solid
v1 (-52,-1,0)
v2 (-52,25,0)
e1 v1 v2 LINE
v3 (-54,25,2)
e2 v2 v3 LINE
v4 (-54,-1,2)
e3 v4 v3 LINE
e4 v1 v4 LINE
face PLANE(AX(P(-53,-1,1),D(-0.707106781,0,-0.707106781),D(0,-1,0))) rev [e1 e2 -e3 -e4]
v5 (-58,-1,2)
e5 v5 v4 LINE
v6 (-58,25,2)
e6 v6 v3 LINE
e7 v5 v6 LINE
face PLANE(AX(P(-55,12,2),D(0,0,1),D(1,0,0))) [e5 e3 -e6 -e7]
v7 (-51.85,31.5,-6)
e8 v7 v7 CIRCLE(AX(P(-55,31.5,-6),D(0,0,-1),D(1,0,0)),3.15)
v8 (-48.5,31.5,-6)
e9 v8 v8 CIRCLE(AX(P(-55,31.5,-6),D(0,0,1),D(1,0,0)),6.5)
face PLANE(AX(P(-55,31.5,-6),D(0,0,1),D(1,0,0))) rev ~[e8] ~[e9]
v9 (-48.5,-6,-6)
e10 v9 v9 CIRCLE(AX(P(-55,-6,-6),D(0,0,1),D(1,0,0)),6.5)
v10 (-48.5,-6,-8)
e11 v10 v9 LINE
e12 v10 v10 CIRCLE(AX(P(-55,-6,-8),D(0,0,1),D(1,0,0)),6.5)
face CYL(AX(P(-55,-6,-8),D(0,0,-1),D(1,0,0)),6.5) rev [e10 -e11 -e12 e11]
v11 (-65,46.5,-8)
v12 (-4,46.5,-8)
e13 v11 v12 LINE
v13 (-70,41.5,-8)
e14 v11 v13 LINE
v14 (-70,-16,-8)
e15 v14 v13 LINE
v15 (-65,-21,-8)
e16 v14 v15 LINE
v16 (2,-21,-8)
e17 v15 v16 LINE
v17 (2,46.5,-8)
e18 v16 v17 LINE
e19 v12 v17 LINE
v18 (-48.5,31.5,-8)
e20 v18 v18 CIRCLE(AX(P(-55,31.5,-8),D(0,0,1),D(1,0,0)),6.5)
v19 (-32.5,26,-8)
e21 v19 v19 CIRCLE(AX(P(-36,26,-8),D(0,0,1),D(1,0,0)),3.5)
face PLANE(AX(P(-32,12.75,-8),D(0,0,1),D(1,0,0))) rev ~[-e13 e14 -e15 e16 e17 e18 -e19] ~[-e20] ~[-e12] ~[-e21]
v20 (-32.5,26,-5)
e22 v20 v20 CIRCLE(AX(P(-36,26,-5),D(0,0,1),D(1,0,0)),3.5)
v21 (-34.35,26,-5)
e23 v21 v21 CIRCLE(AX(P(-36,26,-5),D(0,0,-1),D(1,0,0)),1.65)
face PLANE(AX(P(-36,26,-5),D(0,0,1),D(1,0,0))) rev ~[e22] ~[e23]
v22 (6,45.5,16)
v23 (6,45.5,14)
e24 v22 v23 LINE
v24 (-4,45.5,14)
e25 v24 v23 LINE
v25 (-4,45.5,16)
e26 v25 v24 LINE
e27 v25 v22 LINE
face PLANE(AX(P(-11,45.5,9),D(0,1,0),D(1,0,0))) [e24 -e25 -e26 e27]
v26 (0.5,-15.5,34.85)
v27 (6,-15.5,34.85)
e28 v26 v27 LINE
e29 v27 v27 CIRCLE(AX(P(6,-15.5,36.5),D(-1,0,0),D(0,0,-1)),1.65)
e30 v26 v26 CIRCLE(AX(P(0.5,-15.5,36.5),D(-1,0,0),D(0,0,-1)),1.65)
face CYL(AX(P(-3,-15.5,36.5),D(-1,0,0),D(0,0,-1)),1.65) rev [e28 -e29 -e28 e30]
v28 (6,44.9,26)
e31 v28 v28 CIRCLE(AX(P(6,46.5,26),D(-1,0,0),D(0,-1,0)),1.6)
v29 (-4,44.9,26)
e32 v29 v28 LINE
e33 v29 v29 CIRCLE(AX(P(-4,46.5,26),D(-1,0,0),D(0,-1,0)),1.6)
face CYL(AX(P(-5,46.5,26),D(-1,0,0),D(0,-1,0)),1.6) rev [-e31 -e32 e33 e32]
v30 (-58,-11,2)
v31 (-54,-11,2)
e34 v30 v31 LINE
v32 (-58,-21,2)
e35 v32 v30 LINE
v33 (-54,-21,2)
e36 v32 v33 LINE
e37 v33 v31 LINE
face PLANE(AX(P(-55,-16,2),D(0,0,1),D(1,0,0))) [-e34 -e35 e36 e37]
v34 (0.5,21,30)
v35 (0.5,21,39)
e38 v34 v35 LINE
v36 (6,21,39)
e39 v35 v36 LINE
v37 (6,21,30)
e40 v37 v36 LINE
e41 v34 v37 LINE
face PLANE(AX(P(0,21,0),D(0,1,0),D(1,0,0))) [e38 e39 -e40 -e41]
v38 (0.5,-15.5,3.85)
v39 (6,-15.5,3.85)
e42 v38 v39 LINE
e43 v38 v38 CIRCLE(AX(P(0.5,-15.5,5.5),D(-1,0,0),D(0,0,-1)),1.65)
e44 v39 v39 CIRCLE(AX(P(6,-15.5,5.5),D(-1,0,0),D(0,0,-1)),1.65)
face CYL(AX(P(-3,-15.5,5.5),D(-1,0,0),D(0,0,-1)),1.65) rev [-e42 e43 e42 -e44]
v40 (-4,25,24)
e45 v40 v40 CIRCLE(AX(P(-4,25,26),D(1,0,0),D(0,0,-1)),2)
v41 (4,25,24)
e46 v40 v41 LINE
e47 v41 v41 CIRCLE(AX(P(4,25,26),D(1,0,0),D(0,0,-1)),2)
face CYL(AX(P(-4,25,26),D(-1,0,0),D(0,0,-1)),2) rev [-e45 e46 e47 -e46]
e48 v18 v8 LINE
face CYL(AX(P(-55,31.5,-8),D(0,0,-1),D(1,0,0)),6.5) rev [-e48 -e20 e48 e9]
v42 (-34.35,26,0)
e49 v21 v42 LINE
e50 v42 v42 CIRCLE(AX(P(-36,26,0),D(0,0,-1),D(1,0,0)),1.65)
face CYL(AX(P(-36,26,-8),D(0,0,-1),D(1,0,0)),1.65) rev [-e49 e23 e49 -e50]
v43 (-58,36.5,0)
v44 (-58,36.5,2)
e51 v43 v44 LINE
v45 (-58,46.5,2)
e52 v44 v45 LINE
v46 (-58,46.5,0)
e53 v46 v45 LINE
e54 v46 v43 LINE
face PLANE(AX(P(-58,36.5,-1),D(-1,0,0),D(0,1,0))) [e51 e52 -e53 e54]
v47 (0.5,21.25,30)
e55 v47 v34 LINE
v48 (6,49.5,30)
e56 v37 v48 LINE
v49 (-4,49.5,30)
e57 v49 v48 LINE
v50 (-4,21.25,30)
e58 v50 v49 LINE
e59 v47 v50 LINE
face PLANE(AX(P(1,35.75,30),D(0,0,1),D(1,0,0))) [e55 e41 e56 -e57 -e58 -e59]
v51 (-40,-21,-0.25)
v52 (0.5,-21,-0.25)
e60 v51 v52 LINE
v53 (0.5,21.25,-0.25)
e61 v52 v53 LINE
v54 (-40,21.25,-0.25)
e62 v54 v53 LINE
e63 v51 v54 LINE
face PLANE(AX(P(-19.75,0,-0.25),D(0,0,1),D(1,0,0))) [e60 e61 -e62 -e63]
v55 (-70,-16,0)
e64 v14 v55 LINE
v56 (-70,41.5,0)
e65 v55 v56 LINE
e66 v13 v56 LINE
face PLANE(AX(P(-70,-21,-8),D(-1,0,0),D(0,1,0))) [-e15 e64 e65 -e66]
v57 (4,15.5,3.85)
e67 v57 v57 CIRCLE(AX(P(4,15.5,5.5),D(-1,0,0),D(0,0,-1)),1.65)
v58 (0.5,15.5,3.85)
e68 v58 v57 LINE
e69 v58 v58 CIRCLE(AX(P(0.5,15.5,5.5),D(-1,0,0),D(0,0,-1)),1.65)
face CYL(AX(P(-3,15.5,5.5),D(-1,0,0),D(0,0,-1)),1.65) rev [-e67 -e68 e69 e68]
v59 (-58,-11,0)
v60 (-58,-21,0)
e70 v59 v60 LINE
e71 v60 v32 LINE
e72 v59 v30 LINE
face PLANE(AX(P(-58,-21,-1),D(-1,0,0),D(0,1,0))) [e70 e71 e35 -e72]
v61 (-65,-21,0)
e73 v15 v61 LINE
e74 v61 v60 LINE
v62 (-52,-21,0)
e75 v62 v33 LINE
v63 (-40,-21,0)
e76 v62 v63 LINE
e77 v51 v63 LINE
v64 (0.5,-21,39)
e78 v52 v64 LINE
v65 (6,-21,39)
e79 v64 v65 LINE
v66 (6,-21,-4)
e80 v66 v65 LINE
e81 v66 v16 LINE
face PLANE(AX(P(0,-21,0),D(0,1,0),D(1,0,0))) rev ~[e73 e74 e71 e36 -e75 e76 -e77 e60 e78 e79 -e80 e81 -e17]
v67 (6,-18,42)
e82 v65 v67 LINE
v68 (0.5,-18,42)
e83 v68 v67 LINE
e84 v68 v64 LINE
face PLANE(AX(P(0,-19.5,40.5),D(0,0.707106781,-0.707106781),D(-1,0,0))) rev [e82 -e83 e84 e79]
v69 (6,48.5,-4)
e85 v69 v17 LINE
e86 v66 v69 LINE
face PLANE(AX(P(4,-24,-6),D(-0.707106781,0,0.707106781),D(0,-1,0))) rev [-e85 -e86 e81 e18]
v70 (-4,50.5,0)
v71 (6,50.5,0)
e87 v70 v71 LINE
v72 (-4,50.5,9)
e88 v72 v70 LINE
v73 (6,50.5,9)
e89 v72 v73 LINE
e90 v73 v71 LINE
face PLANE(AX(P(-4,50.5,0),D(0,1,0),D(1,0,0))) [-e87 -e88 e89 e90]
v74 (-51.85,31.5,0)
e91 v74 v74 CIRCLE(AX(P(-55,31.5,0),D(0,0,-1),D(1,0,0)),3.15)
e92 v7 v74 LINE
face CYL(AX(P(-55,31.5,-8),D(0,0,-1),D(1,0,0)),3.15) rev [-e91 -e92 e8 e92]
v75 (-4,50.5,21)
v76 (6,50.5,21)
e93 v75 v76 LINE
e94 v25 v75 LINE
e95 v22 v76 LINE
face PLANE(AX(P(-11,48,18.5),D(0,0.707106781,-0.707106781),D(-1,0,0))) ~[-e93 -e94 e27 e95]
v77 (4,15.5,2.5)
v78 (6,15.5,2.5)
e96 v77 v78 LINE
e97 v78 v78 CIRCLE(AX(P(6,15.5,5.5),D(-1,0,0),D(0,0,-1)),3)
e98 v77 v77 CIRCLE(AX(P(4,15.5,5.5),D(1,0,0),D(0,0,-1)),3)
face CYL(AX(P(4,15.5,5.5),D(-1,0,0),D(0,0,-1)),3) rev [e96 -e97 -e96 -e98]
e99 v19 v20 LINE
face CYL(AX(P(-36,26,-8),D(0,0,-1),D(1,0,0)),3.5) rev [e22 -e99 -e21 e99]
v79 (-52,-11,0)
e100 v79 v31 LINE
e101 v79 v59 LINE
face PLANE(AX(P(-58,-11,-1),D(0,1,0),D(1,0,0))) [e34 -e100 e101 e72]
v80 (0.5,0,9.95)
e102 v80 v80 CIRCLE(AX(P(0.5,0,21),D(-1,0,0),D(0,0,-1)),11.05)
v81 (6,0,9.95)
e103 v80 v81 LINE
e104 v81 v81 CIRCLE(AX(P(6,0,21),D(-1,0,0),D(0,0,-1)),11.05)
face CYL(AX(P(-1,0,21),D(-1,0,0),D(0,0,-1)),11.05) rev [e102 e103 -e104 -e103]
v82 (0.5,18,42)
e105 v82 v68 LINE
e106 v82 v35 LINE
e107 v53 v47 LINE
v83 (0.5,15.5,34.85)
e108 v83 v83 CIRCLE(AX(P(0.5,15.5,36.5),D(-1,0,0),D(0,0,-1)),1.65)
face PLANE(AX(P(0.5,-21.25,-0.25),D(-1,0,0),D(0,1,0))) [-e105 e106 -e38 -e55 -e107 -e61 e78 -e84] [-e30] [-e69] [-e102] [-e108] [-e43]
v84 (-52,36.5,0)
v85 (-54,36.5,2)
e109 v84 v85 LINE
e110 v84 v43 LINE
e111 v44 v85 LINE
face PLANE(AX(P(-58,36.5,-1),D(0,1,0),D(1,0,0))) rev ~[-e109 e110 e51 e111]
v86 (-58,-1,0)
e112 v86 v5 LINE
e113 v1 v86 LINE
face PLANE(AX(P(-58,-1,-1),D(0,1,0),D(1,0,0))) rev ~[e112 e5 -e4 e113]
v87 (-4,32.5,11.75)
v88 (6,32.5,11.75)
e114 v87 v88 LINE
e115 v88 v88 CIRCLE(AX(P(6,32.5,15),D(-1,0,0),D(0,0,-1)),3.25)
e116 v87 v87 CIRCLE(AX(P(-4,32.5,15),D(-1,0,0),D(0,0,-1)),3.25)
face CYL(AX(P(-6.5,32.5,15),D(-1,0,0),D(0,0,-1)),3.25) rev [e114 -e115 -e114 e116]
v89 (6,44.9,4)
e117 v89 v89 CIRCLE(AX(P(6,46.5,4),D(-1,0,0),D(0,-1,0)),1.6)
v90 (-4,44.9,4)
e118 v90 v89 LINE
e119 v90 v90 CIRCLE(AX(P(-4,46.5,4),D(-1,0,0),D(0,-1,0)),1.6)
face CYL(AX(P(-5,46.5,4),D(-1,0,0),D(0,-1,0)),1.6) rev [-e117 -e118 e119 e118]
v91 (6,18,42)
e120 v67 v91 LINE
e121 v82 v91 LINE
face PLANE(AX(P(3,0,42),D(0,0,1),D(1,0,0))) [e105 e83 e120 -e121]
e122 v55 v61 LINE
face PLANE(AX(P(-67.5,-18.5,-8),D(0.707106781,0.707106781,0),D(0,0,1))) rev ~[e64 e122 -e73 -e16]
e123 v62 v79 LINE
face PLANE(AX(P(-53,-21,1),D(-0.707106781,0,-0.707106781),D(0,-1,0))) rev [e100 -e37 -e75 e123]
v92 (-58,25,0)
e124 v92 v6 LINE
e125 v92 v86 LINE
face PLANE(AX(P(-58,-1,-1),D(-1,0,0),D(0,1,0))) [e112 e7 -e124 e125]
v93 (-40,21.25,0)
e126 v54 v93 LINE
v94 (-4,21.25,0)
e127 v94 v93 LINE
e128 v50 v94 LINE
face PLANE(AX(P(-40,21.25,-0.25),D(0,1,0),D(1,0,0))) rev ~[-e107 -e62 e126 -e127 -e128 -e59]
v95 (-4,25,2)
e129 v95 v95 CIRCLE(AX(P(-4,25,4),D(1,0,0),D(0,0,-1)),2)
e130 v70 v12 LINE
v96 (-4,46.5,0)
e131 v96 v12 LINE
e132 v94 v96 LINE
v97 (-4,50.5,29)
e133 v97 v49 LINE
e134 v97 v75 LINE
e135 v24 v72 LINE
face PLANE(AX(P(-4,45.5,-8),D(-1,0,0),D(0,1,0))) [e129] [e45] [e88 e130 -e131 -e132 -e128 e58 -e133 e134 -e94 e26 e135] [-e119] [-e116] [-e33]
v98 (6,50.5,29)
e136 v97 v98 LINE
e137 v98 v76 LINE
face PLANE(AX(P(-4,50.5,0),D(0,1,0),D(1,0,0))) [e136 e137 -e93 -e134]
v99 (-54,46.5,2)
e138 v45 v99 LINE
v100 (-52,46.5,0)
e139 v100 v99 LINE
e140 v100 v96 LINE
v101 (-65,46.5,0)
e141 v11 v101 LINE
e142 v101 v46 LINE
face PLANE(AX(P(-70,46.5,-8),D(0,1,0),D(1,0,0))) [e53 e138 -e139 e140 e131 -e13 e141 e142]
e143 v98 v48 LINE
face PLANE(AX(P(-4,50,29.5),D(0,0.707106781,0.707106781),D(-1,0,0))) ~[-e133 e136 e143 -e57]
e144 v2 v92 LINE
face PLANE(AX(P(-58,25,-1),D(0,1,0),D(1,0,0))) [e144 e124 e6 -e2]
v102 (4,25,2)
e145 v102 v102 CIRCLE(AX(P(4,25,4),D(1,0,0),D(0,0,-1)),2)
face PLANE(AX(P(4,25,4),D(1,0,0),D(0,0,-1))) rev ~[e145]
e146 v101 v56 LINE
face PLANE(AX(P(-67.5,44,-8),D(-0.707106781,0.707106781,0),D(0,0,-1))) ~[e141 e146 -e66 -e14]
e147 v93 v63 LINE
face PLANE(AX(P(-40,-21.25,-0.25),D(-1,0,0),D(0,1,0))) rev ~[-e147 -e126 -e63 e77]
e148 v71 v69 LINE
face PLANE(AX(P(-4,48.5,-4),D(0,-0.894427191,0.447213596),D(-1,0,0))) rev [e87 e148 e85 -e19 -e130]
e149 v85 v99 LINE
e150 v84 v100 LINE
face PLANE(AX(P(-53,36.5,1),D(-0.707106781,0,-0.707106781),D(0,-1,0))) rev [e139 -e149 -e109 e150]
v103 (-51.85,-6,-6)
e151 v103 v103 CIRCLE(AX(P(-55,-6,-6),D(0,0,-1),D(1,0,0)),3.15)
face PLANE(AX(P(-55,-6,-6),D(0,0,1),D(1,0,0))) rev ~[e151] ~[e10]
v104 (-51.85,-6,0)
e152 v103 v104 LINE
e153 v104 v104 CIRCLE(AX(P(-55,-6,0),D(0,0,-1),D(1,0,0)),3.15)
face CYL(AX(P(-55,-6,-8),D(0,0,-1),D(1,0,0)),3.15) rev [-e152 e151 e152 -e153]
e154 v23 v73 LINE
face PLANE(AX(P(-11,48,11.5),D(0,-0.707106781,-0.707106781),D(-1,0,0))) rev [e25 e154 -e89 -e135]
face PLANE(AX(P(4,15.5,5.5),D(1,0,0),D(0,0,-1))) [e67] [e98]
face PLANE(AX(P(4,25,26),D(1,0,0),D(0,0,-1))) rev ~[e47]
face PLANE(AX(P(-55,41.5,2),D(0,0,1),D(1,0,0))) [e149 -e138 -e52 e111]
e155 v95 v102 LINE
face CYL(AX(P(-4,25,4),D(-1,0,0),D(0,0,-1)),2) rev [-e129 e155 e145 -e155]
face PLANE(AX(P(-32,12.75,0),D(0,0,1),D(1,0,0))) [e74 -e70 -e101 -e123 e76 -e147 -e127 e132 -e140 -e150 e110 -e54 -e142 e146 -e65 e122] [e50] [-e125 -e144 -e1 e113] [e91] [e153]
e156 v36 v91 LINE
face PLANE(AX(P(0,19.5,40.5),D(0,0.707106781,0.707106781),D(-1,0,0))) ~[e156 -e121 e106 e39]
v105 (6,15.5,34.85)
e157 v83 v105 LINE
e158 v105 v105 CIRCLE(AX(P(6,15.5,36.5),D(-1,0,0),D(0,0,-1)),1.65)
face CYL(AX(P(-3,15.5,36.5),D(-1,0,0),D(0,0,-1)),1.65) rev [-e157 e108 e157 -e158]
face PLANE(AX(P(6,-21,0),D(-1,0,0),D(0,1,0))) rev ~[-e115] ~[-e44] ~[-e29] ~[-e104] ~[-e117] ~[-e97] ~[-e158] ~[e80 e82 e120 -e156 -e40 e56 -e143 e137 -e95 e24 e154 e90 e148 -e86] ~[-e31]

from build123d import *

# Parameters (mm, degrees)
BOX029_W             = 19
BOX029_H             = 28
BOX029_DEPTH         = 12
CHAMFER024034_SIZE   = 5
CYLINDER011018_R     = 3.5
CYLINDER011018_DEPTH = 3
CYLINDER007_R        = 1.65
CYLINDER007_DEPTH    = 16
CYLINDER011048_R     = 2
CYLINDER011048_DEPTH = 8
CYLINDER011049_R     = 2
CYLINDER011049_DEPTH = 8
CYLINDER011040_R     = 6.5
CYLINDER011040_DEPTH = 2
CYLINDER011041_R     = 3.15
CYLINDER011041_DEPTH = 10
CYLINDER011042_R     = 3.15
CYLINDER011042_DEPTH = 10
CYLINDER011039_R     = 6.5
CYLINDER011039_DEPTH = 2
BOX026_W             = 6
BOX026_H             = 26
BOX026_DEPTH         = 3
BOX025_W             = 6
BOX025_H             = 10
BOX025_DEPTH         = 3
BOX027_W             = 6
BOX027_H             = 10
BOX027_DEPTH         = 3
CHAMFER024022_SIZE   = 2
CYLINDER011002_R     = 1.6
CYLINDER011002_DEPTH = 12
CYLINDER015_R        = 1.6
CYLINDER015_DEPTH    = 12
CYLINDER011036_R     = 3.25
CYLINDER011036_DEPTH = 14
BOX035_W             = 40.5
BOX035_H             = 42.5
BOX035_DEPTH         = 42.5
BOX019_W             = 10
BOX019_H             = 82
BOX019_DEPTH         = 10
CHAMFER013_SIZE      = 4
BOX008_W             = 10
BOX008_H             = 5
BOX008_DEPTH         = 10
CHAMFER002_SIZE2     = 4
CHAMFER002_SIZE      = 8
BOX003_W             = 76
BOX003_H             = 67.5
BOX003_DEPTH         = 8
CYLINDER011015_R     = 11.05
CYLINDER011015_DEPTH = 23
CYLINDER011013_R     = 3
CYLINDER011013_DEPTH = 10
CYLINDER011011_R     = 1.65
CYLINDER011011_DEPTH = 10
CYLINDER011010_R     = 1.65
CYLINDER011010_DEPTH = 10
CYLINDER011009_R     = 1.65
CYLINDER011009_DEPTH = 10
CYLINDER011012_R     = 1.65
CYLINDER011012_DEPTH = 10
BOX001_W             = 6
BOX001_H             = 42
BOX001_DEPTH         = 42
CHAMFER004_SIZE      = 3
BOX002_W             = 10
BOX002_H             = 29.5
BOX002_DEPTH         = 30
CHAMFER024021_SIZE   = 1
CHAMFER024023_SIZE   = 5


with BuildPart() as chamfer024034:
    # Box029 → Box029 (new body)
    with BuildSketch(Plane(origin=(-16, 67, 9), x_dir=(1, 0, 0), z_dir=(0, 0, 1))):
        with Locations((9.5, 14)):
            Rectangle(BOX029_W, BOX029_H)
    extrude(amount=BOX029_DEPTH)

    # Chamfer024034
    chamfer024034_edges = [chamfer024034.edges().sort_by_distance(p)[0] for p in [
        (-6.5, 67, 9),
        (-6.5, 67, 21),
    ]]
    chamfer(chamfer024034_edges, length=CHAMFER024034_SIZE)


with BuildPart() as chamfer024034_1:
    # Chamfer024034 placement: moved
    add(chamfer024034.part.moved(Location((5, -21.5, 0))))


with BuildPart() as cylinder011018:
    # Cylinder011018 → Cylinder011018 (new body)
    with BuildSketch(Plane(origin=(-36, 26, -8), x_dir=(1, 0, 0), z_dir=(0, 0, 1))):
        Circle(CYLINDER011018_R)
    extrude(amount=CYLINDER011018_DEPTH)


with BuildPart() as fusion006002011004034:
    # Cylinder007 → Cylinder007 (new body)
    with BuildSketch(Plane(origin=(-36, 26, -8), x_dir=(1, 0, 0), z_dir=(0, 0, 1))):
        Circle(CYLINDER007_R)
    extrude(amount=CYLINDER007_DEPTH)

    # Fusion006002011004034: union Cylinder011018
    add(cylinder011018.part)


with BuildPart() as cylinder011048:
    # Cylinder011048 → Cylinder011048 (new body)
    with BuildSketch(Plane(origin=(-4, 25, 4), x_dir=(0, 0, -1), z_dir=(1, 0, 0))):
        Circle(CYLINDER011048_R)
    extrude(amount=CYLINDER011048_DEPTH)


with BuildPart() as fusion006002011004041:
    # Cylinder011049 → Cylinder011049 (new body)
    with BuildSketch(Plane(origin=(-4, 25, 26), x_dir=(0, 0, -1), z_dir=(1, 0, 0))):
        Circle(CYLINDER011049_R)
    extrude(amount=CYLINDER011049_DEPTH)

    # Fusion006002011004041: union Cylinder011048
    add(cylinder011048.part)


with BuildPart() as cylinder011040:
    # Cylinder011040 → Cylinder011040 (new body)
    with BuildSketch(Plane(origin=(-55, 31.5, -10), x_dir=(1, 0, 0), z_dir=(0, 0, 1))):
        Circle(CYLINDER011040_R)
    extrude(amount=CYLINDER011040_DEPTH)


with BuildPart() as cylinder011041:
    # Cylinder011041 → Cylinder011041 (new body)
    with BuildSketch(Plane(origin=(-55, 31.5, -10), x_dir=(1, 0, 0), z_dir=(0, 0, 1))):
        Circle(CYLINDER011041_R)
    extrude(amount=CYLINDER011041_DEPTH)


with BuildPart() as cylinder011042:
    # Cylinder011042 → Cylinder011042 (new body)
    with BuildSketch(Plane(origin=(-55, -6, -10), x_dir=(1, 0, 0), z_dir=(0, 0, 1))):
        Circle(CYLINDER011042_R)
    extrude(amount=CYLINDER011042_DEPTH)


with BuildPart() as fusion006002011004053024:
    # Cylinder011039 → Cylinder011039 (new body)
    with BuildSketch(Plane(origin=(-55, -6, -10), x_dir=(1, 0, 0), z_dir=(0, 0, 1))):
        Circle(CYLINDER011039_R)
    extrude(amount=CYLINDER011039_DEPTH)

    # Fusion006002011004053024: union Cylinder011040, Cylinder011041, Cylinder011042
    add(cylinder011040.part)
    add(cylinder011041.part)
    add(cylinder011042.part)


with BuildPart() as fusion006002011004053024_1:
    # Fusion006002011004053024 placement: moved
    add(fusion006002011004053024.part.moved(Location((0, 0, 2))))


with BuildPart() as cube025:
    # Box026 → Box026 (new body)
    with BuildSketch(Plane(origin=(-58, -1, -1), x_dir=(1, 0, 0), z_dir=(0, 0, 1))):
        with Locations((3, 13)):
            Rectangle(BOX026_W, BOX026_H)
    extrude(amount=BOX026_DEPTH)


with BuildPart() as cube024:
    # Box025 → Box025 (new body)
    with BuildSketch(Plane(origin=(-58, -21, -1), x_dir=(1, 0, 0), z_dir=(0, 0, 1))):
        with Locations((3, 5)):
            Rectangle(BOX025_W, BOX025_H)
    extrude(amount=BOX025_DEPTH)


with BuildPart() as chamfer024022:
    # Box027 → Box027 (new body)
    with BuildSketch(Plane(origin=(-58, 36.5, -1), x_dir=(1, 0, 0), z_dir=(0, 0, 1))):
        with Locations((3, 5)):
            Rectangle(BOX027_W, BOX027_H)
    extrude(amount=BOX027_DEPTH)

    # Fusion006002011004053022: union Cube025, Cube024
    add(cube025.part)
    add(cube024.part)

    # Chamfer024022
    chamfer024022_edges = [chamfer024022.edges().sort_by_distance(p)[0] for p in [
        (-52, 41.5, 2),
        (-52, 12, 2),
        (-52, -16, 2),
    ]]
    chamfer(chamfer024022_edges, length=CHAMFER024022_SIZE)


with BuildPart() as cylinder011002:
    # Cylinder011002 → Cylinder011002 (new body)
    with BuildSketch(Plane(origin=(-24, 45, 4), x_dir=(0, -1, 0), z_dir=(1, 0, 0))):
        Circle(CYLINDER011002_R)
    extrude(amount=CYLINDER011002_DEPTH)


with BuildPart() as fusion006002011004003:
    # Cylinder015 → Cylinder015 (new body)
    with BuildSketch(Plane(origin=(-24, 45, 26), x_dir=(0, -1, 0), z_dir=(1, 0, 0))):
        Circle(CYLINDER015_R)
    extrude(amount=CYLINDER015_DEPTH)

    # Fusion006002011004003: union Cylinder011002
    add(cylinder011002.part)


with BuildPart() as fusion006002011004003_1:
    # Fusion006002011004003 placement: moved
    add(fusion006002011004003.part.moved(Location((19, 1.5, 0))))


with BuildPart() as cylinder011036:
    # Cylinder011036 → Cylinder011036 (new body)
    with BuildSketch(Plane(origin=(-6.5, 32.5, 15), x_dir=(0, 0, -1), z_dir=(1, 0, 0))):
        Circle(CYLINDER011036_R)
    extrude(amount=CYLINDER011036_DEPTH)


with BuildPart() as cube034:
    # Box035 → Box035 (new body)
    with BuildSketch(Plane(origin=(-40, -21.25, -0.25), x_dir=(1, 0, 0), z_dir=(0, 0, 1))):
        with Locations((20.25, 21.25)):
            Rectangle(BOX035_W, BOX035_H)
    extrude(amount=BOX035_DEPTH)


with BuildPart() as chamfer013:
    # Box019 → Box019 (new body)
    with BuildSketch(Plane(origin=(2, -24, -14), x_dir=(1, 0, 0), z_dir=(0, 0, 1))):
        with Locations((5, 41)):
            Rectangle(BOX019_W, BOX019_H)
    extrude(amount=BOX019_DEPTH)

    # Chamfer013
    chamfer013_edges = [chamfer013.edges().sort_by_distance(p)[0] for p in [
        (2, 17, -4),
    ]]
    chamfer(chamfer013_edges, length=CHAMFER013_SIZE)


with BuildPart() as chamfer002:
    # Box008 → Box008 (new body)
    with BuildSketch(Plane(origin=(-4, 44, -8), x_dir=(1, 0, 0), z_dir=(0, 0, 1))):
        with Locations((5, 2.5)):
            Rectangle(BOX008_W, BOX008_H)
    extrude(amount=BOX008_DEPTH)

    # Chamfer002
    chamfer002_edges = [chamfer002.edges().sort_by_distance(p)[0] for p in [
        (1, 49, -8),
    ]]
    chamfer002_side = chamfer002.faces().sort_by_distance((1, 49, -3))[0]
    chamfer(chamfer002_edges, length=CHAMFER002_SIZE, length2=CHAMFER002_SIZE2, reference=chamfer002_side)


with BuildPart() as chamfer002_1:
    # Chamfer002 placement: moved
    add(chamfer002.part.moved(Location((0, 1.5, 0))))


with BuildPart() as cube003:
    # Box003 → Box003 (new body)
    with BuildSketch(Plane(origin=(-70, -21, -8), x_dir=(1, 0, 0), z_dir=(0, 0, 1))):
        with Locations((38, 33.75)):
            Rectangle(BOX003_W, BOX003_H)
    extrude(amount=BOX003_DEPTH)


with BuildPart() as cylinder011015:
    # Cylinder011015 → Cylinder011015 (new body)
    with BuildSketch(Plane(origin=(-1, 0, 21), x_dir=(0, 0, -1), z_dir=(1, 0, 0))):
        Circle(CYLINDER011015_R)
    extrude(amount=CYLINDER011015_DEPTH)


with BuildPart() as cylinder011013:
    # Cylinder011013 → Cylinder011013 (new body)
    with BuildSketch(Plane(origin=(4, 15.5, 5.5), x_dir=(0, 0, -1), z_dir=(1, 0, 0))):
        Circle(CYLINDER011013_R)
    extrude(amount=CYLINDER011013_DEPTH)


with BuildPart() as cylinder011011:
    # Cylinder011011 → Cylinder011011 (new body)
    with BuildSketch(Plane(origin=(13, -15.5, 36.5), x_dir=(0, 0, -1), z_dir=(1, 0, 0))):
        Circle(CYLINDER011011_R)
    extrude(amount=CYLINDER011011_DEPTH)


with BuildPart() as cylinder011010:
    # Cylinder011010 → Cylinder011010 (new body)
    with BuildSketch(Plane(origin=(13, -15.5, 5.5), x_dir=(0, 0, -1), z_dir=(1, 0, 0))):
        Circle(CYLINDER011010_R)
    extrude(amount=CYLINDER011010_DEPTH)


with BuildPart() as cylinder011009:
    # Cylinder011009 → Cylinder011009 (new body)
    with BuildSketch(Plane(origin=(13, 15.5, 5.5), x_dir=(0, 0, -1), z_dir=(1, 0, 0))):
        Circle(CYLINDER011009_R)
    extrude(amount=CYLINDER011009_DEPTH)


with BuildPart() as fusion006002011004004:
    # Cylinder011012 → Cylinder011012 (new body)
    with BuildSketch(Plane(origin=(13, 15.5, 36.5), x_dir=(0, 0, -1), z_dir=(1, 0, 0))):
        Circle(CYLINDER011012_R)
    extrude(amount=CYLINDER011012_DEPTH)

    # Fusion006002011004004: union Cylinder011011, Cylinder011010, Cylinder011009
    add(cylinder011011.part)
    add(cylinder011010.part)
    add(cylinder011009.part)


with BuildPart() as fusion006002011004004_1:
    # Fusion006002011004004 placement: moved
    add(fusion006002011004004.part.moved(Location((-16, 0, 0))))


with BuildPart() as cut001018:
    # Box001 → Box001 (new body)
    with BuildSketch(Plane(origin=(0, -21, 0), x_dir=(1, 0, 0), z_dir=(0, 0, 1))):
        with Locations((3, 21)):
            Rectangle(BOX001_W, BOX001_H)
    extrude(amount=BOX001_DEPTH)

    # Chamfer004
    chamfer004_edges = [cut001018.edges().sort_by_distance(p)[0] for p in [
        (3, -21, 42),
        (3, 21, 42),
    ]]
    chamfer(chamfer004_edges, length=CHAMFER004_SIZE)

    # Cut001014: cut Fusion006002011004004
    add(fusion006002011004004_1.part, mode=Mode.SUBTRACT)

    # Cut001015: cut Cylinder011013
    add(cylinder011013.part, mode=Mode.SUBTRACT)

    # Cut001018: cut Cylinder011015
    add(cylinder011015.part, mode=Mode.SUBTRACT)


with BuildPart() as main_body_basic:
    # Box002 → Box002 (new body)
    with BuildSketch(Plane(origin=(-4, 21, 0), x_dir=(1, 0, 0), z_dir=(0, 0, 1))):
        with Locations((5, 14.75)):
            Rectangle(BOX002_W, BOX002_H)
    extrude(amount=BOX002_DEPTH)

    # Fusion006002011004053021: union Chamfer002, Cube003, Cut001018
    add(chamfer002_1.part)
    add(cube003.part)
    add(cut001018.part)

    # Chamfer024021
    chamfer024021_edges = [main_body_basic.edges().sort_by_distance(p)[0] for p in [
        (1, 50.5, 30),
    ]]
    chamfer(chamfer024021_edges, length=CHAMFER024021_SIZE)

    # Cut001063008014: cut Chamfer013
    add(chamfer013.part, mode=Mode.SUBTRACT)

    # Cut001063008015: cut Cube034
    add(cube034.part, mode=Mode.SUBTRACT)

    # Cut001063008016: cut Cylinder011036
    add(cylinder011036.part, mode=Mode.SUBTRACT)

    # Cut001063008017: cut Fusion006002011004003
    add(fusion006002011004003_1.part, mode=Mode.SUBTRACT)

    # Fusion006002011004053023: union Chamfer024022
    add(chamfer024022.part)

    # Cut001063008018: cut Fusion006002011004053024
    add(fusion006002011004053024_1.part, mode=Mode.SUBTRACT)

    # Chamfer024023
    chamfer024023_edges = [main_body_basic.edges().sort_by_distance(p)[0] for p in [
        (-70, 46.5, -4),
        (-70, -21, -4),
    ]]
    chamfer(chamfer024023_edges, length=CHAMFER024023_SIZE)

    # Cut001063008019: cut Fusion006002011004041
    add(fusion006002011004041.part, mode=Mode.SUBTRACT)

    # Cut001063008020: cut Fusion006002011004034
    add(fusion006002011004034.part, mode=Mode.SUBTRACT)

    # Cut001063008009006: cut Chamfer024034
    add(chamfer024034_1.part, mode=Mode.SUBTRACT)


solid = main_body_basic.part
